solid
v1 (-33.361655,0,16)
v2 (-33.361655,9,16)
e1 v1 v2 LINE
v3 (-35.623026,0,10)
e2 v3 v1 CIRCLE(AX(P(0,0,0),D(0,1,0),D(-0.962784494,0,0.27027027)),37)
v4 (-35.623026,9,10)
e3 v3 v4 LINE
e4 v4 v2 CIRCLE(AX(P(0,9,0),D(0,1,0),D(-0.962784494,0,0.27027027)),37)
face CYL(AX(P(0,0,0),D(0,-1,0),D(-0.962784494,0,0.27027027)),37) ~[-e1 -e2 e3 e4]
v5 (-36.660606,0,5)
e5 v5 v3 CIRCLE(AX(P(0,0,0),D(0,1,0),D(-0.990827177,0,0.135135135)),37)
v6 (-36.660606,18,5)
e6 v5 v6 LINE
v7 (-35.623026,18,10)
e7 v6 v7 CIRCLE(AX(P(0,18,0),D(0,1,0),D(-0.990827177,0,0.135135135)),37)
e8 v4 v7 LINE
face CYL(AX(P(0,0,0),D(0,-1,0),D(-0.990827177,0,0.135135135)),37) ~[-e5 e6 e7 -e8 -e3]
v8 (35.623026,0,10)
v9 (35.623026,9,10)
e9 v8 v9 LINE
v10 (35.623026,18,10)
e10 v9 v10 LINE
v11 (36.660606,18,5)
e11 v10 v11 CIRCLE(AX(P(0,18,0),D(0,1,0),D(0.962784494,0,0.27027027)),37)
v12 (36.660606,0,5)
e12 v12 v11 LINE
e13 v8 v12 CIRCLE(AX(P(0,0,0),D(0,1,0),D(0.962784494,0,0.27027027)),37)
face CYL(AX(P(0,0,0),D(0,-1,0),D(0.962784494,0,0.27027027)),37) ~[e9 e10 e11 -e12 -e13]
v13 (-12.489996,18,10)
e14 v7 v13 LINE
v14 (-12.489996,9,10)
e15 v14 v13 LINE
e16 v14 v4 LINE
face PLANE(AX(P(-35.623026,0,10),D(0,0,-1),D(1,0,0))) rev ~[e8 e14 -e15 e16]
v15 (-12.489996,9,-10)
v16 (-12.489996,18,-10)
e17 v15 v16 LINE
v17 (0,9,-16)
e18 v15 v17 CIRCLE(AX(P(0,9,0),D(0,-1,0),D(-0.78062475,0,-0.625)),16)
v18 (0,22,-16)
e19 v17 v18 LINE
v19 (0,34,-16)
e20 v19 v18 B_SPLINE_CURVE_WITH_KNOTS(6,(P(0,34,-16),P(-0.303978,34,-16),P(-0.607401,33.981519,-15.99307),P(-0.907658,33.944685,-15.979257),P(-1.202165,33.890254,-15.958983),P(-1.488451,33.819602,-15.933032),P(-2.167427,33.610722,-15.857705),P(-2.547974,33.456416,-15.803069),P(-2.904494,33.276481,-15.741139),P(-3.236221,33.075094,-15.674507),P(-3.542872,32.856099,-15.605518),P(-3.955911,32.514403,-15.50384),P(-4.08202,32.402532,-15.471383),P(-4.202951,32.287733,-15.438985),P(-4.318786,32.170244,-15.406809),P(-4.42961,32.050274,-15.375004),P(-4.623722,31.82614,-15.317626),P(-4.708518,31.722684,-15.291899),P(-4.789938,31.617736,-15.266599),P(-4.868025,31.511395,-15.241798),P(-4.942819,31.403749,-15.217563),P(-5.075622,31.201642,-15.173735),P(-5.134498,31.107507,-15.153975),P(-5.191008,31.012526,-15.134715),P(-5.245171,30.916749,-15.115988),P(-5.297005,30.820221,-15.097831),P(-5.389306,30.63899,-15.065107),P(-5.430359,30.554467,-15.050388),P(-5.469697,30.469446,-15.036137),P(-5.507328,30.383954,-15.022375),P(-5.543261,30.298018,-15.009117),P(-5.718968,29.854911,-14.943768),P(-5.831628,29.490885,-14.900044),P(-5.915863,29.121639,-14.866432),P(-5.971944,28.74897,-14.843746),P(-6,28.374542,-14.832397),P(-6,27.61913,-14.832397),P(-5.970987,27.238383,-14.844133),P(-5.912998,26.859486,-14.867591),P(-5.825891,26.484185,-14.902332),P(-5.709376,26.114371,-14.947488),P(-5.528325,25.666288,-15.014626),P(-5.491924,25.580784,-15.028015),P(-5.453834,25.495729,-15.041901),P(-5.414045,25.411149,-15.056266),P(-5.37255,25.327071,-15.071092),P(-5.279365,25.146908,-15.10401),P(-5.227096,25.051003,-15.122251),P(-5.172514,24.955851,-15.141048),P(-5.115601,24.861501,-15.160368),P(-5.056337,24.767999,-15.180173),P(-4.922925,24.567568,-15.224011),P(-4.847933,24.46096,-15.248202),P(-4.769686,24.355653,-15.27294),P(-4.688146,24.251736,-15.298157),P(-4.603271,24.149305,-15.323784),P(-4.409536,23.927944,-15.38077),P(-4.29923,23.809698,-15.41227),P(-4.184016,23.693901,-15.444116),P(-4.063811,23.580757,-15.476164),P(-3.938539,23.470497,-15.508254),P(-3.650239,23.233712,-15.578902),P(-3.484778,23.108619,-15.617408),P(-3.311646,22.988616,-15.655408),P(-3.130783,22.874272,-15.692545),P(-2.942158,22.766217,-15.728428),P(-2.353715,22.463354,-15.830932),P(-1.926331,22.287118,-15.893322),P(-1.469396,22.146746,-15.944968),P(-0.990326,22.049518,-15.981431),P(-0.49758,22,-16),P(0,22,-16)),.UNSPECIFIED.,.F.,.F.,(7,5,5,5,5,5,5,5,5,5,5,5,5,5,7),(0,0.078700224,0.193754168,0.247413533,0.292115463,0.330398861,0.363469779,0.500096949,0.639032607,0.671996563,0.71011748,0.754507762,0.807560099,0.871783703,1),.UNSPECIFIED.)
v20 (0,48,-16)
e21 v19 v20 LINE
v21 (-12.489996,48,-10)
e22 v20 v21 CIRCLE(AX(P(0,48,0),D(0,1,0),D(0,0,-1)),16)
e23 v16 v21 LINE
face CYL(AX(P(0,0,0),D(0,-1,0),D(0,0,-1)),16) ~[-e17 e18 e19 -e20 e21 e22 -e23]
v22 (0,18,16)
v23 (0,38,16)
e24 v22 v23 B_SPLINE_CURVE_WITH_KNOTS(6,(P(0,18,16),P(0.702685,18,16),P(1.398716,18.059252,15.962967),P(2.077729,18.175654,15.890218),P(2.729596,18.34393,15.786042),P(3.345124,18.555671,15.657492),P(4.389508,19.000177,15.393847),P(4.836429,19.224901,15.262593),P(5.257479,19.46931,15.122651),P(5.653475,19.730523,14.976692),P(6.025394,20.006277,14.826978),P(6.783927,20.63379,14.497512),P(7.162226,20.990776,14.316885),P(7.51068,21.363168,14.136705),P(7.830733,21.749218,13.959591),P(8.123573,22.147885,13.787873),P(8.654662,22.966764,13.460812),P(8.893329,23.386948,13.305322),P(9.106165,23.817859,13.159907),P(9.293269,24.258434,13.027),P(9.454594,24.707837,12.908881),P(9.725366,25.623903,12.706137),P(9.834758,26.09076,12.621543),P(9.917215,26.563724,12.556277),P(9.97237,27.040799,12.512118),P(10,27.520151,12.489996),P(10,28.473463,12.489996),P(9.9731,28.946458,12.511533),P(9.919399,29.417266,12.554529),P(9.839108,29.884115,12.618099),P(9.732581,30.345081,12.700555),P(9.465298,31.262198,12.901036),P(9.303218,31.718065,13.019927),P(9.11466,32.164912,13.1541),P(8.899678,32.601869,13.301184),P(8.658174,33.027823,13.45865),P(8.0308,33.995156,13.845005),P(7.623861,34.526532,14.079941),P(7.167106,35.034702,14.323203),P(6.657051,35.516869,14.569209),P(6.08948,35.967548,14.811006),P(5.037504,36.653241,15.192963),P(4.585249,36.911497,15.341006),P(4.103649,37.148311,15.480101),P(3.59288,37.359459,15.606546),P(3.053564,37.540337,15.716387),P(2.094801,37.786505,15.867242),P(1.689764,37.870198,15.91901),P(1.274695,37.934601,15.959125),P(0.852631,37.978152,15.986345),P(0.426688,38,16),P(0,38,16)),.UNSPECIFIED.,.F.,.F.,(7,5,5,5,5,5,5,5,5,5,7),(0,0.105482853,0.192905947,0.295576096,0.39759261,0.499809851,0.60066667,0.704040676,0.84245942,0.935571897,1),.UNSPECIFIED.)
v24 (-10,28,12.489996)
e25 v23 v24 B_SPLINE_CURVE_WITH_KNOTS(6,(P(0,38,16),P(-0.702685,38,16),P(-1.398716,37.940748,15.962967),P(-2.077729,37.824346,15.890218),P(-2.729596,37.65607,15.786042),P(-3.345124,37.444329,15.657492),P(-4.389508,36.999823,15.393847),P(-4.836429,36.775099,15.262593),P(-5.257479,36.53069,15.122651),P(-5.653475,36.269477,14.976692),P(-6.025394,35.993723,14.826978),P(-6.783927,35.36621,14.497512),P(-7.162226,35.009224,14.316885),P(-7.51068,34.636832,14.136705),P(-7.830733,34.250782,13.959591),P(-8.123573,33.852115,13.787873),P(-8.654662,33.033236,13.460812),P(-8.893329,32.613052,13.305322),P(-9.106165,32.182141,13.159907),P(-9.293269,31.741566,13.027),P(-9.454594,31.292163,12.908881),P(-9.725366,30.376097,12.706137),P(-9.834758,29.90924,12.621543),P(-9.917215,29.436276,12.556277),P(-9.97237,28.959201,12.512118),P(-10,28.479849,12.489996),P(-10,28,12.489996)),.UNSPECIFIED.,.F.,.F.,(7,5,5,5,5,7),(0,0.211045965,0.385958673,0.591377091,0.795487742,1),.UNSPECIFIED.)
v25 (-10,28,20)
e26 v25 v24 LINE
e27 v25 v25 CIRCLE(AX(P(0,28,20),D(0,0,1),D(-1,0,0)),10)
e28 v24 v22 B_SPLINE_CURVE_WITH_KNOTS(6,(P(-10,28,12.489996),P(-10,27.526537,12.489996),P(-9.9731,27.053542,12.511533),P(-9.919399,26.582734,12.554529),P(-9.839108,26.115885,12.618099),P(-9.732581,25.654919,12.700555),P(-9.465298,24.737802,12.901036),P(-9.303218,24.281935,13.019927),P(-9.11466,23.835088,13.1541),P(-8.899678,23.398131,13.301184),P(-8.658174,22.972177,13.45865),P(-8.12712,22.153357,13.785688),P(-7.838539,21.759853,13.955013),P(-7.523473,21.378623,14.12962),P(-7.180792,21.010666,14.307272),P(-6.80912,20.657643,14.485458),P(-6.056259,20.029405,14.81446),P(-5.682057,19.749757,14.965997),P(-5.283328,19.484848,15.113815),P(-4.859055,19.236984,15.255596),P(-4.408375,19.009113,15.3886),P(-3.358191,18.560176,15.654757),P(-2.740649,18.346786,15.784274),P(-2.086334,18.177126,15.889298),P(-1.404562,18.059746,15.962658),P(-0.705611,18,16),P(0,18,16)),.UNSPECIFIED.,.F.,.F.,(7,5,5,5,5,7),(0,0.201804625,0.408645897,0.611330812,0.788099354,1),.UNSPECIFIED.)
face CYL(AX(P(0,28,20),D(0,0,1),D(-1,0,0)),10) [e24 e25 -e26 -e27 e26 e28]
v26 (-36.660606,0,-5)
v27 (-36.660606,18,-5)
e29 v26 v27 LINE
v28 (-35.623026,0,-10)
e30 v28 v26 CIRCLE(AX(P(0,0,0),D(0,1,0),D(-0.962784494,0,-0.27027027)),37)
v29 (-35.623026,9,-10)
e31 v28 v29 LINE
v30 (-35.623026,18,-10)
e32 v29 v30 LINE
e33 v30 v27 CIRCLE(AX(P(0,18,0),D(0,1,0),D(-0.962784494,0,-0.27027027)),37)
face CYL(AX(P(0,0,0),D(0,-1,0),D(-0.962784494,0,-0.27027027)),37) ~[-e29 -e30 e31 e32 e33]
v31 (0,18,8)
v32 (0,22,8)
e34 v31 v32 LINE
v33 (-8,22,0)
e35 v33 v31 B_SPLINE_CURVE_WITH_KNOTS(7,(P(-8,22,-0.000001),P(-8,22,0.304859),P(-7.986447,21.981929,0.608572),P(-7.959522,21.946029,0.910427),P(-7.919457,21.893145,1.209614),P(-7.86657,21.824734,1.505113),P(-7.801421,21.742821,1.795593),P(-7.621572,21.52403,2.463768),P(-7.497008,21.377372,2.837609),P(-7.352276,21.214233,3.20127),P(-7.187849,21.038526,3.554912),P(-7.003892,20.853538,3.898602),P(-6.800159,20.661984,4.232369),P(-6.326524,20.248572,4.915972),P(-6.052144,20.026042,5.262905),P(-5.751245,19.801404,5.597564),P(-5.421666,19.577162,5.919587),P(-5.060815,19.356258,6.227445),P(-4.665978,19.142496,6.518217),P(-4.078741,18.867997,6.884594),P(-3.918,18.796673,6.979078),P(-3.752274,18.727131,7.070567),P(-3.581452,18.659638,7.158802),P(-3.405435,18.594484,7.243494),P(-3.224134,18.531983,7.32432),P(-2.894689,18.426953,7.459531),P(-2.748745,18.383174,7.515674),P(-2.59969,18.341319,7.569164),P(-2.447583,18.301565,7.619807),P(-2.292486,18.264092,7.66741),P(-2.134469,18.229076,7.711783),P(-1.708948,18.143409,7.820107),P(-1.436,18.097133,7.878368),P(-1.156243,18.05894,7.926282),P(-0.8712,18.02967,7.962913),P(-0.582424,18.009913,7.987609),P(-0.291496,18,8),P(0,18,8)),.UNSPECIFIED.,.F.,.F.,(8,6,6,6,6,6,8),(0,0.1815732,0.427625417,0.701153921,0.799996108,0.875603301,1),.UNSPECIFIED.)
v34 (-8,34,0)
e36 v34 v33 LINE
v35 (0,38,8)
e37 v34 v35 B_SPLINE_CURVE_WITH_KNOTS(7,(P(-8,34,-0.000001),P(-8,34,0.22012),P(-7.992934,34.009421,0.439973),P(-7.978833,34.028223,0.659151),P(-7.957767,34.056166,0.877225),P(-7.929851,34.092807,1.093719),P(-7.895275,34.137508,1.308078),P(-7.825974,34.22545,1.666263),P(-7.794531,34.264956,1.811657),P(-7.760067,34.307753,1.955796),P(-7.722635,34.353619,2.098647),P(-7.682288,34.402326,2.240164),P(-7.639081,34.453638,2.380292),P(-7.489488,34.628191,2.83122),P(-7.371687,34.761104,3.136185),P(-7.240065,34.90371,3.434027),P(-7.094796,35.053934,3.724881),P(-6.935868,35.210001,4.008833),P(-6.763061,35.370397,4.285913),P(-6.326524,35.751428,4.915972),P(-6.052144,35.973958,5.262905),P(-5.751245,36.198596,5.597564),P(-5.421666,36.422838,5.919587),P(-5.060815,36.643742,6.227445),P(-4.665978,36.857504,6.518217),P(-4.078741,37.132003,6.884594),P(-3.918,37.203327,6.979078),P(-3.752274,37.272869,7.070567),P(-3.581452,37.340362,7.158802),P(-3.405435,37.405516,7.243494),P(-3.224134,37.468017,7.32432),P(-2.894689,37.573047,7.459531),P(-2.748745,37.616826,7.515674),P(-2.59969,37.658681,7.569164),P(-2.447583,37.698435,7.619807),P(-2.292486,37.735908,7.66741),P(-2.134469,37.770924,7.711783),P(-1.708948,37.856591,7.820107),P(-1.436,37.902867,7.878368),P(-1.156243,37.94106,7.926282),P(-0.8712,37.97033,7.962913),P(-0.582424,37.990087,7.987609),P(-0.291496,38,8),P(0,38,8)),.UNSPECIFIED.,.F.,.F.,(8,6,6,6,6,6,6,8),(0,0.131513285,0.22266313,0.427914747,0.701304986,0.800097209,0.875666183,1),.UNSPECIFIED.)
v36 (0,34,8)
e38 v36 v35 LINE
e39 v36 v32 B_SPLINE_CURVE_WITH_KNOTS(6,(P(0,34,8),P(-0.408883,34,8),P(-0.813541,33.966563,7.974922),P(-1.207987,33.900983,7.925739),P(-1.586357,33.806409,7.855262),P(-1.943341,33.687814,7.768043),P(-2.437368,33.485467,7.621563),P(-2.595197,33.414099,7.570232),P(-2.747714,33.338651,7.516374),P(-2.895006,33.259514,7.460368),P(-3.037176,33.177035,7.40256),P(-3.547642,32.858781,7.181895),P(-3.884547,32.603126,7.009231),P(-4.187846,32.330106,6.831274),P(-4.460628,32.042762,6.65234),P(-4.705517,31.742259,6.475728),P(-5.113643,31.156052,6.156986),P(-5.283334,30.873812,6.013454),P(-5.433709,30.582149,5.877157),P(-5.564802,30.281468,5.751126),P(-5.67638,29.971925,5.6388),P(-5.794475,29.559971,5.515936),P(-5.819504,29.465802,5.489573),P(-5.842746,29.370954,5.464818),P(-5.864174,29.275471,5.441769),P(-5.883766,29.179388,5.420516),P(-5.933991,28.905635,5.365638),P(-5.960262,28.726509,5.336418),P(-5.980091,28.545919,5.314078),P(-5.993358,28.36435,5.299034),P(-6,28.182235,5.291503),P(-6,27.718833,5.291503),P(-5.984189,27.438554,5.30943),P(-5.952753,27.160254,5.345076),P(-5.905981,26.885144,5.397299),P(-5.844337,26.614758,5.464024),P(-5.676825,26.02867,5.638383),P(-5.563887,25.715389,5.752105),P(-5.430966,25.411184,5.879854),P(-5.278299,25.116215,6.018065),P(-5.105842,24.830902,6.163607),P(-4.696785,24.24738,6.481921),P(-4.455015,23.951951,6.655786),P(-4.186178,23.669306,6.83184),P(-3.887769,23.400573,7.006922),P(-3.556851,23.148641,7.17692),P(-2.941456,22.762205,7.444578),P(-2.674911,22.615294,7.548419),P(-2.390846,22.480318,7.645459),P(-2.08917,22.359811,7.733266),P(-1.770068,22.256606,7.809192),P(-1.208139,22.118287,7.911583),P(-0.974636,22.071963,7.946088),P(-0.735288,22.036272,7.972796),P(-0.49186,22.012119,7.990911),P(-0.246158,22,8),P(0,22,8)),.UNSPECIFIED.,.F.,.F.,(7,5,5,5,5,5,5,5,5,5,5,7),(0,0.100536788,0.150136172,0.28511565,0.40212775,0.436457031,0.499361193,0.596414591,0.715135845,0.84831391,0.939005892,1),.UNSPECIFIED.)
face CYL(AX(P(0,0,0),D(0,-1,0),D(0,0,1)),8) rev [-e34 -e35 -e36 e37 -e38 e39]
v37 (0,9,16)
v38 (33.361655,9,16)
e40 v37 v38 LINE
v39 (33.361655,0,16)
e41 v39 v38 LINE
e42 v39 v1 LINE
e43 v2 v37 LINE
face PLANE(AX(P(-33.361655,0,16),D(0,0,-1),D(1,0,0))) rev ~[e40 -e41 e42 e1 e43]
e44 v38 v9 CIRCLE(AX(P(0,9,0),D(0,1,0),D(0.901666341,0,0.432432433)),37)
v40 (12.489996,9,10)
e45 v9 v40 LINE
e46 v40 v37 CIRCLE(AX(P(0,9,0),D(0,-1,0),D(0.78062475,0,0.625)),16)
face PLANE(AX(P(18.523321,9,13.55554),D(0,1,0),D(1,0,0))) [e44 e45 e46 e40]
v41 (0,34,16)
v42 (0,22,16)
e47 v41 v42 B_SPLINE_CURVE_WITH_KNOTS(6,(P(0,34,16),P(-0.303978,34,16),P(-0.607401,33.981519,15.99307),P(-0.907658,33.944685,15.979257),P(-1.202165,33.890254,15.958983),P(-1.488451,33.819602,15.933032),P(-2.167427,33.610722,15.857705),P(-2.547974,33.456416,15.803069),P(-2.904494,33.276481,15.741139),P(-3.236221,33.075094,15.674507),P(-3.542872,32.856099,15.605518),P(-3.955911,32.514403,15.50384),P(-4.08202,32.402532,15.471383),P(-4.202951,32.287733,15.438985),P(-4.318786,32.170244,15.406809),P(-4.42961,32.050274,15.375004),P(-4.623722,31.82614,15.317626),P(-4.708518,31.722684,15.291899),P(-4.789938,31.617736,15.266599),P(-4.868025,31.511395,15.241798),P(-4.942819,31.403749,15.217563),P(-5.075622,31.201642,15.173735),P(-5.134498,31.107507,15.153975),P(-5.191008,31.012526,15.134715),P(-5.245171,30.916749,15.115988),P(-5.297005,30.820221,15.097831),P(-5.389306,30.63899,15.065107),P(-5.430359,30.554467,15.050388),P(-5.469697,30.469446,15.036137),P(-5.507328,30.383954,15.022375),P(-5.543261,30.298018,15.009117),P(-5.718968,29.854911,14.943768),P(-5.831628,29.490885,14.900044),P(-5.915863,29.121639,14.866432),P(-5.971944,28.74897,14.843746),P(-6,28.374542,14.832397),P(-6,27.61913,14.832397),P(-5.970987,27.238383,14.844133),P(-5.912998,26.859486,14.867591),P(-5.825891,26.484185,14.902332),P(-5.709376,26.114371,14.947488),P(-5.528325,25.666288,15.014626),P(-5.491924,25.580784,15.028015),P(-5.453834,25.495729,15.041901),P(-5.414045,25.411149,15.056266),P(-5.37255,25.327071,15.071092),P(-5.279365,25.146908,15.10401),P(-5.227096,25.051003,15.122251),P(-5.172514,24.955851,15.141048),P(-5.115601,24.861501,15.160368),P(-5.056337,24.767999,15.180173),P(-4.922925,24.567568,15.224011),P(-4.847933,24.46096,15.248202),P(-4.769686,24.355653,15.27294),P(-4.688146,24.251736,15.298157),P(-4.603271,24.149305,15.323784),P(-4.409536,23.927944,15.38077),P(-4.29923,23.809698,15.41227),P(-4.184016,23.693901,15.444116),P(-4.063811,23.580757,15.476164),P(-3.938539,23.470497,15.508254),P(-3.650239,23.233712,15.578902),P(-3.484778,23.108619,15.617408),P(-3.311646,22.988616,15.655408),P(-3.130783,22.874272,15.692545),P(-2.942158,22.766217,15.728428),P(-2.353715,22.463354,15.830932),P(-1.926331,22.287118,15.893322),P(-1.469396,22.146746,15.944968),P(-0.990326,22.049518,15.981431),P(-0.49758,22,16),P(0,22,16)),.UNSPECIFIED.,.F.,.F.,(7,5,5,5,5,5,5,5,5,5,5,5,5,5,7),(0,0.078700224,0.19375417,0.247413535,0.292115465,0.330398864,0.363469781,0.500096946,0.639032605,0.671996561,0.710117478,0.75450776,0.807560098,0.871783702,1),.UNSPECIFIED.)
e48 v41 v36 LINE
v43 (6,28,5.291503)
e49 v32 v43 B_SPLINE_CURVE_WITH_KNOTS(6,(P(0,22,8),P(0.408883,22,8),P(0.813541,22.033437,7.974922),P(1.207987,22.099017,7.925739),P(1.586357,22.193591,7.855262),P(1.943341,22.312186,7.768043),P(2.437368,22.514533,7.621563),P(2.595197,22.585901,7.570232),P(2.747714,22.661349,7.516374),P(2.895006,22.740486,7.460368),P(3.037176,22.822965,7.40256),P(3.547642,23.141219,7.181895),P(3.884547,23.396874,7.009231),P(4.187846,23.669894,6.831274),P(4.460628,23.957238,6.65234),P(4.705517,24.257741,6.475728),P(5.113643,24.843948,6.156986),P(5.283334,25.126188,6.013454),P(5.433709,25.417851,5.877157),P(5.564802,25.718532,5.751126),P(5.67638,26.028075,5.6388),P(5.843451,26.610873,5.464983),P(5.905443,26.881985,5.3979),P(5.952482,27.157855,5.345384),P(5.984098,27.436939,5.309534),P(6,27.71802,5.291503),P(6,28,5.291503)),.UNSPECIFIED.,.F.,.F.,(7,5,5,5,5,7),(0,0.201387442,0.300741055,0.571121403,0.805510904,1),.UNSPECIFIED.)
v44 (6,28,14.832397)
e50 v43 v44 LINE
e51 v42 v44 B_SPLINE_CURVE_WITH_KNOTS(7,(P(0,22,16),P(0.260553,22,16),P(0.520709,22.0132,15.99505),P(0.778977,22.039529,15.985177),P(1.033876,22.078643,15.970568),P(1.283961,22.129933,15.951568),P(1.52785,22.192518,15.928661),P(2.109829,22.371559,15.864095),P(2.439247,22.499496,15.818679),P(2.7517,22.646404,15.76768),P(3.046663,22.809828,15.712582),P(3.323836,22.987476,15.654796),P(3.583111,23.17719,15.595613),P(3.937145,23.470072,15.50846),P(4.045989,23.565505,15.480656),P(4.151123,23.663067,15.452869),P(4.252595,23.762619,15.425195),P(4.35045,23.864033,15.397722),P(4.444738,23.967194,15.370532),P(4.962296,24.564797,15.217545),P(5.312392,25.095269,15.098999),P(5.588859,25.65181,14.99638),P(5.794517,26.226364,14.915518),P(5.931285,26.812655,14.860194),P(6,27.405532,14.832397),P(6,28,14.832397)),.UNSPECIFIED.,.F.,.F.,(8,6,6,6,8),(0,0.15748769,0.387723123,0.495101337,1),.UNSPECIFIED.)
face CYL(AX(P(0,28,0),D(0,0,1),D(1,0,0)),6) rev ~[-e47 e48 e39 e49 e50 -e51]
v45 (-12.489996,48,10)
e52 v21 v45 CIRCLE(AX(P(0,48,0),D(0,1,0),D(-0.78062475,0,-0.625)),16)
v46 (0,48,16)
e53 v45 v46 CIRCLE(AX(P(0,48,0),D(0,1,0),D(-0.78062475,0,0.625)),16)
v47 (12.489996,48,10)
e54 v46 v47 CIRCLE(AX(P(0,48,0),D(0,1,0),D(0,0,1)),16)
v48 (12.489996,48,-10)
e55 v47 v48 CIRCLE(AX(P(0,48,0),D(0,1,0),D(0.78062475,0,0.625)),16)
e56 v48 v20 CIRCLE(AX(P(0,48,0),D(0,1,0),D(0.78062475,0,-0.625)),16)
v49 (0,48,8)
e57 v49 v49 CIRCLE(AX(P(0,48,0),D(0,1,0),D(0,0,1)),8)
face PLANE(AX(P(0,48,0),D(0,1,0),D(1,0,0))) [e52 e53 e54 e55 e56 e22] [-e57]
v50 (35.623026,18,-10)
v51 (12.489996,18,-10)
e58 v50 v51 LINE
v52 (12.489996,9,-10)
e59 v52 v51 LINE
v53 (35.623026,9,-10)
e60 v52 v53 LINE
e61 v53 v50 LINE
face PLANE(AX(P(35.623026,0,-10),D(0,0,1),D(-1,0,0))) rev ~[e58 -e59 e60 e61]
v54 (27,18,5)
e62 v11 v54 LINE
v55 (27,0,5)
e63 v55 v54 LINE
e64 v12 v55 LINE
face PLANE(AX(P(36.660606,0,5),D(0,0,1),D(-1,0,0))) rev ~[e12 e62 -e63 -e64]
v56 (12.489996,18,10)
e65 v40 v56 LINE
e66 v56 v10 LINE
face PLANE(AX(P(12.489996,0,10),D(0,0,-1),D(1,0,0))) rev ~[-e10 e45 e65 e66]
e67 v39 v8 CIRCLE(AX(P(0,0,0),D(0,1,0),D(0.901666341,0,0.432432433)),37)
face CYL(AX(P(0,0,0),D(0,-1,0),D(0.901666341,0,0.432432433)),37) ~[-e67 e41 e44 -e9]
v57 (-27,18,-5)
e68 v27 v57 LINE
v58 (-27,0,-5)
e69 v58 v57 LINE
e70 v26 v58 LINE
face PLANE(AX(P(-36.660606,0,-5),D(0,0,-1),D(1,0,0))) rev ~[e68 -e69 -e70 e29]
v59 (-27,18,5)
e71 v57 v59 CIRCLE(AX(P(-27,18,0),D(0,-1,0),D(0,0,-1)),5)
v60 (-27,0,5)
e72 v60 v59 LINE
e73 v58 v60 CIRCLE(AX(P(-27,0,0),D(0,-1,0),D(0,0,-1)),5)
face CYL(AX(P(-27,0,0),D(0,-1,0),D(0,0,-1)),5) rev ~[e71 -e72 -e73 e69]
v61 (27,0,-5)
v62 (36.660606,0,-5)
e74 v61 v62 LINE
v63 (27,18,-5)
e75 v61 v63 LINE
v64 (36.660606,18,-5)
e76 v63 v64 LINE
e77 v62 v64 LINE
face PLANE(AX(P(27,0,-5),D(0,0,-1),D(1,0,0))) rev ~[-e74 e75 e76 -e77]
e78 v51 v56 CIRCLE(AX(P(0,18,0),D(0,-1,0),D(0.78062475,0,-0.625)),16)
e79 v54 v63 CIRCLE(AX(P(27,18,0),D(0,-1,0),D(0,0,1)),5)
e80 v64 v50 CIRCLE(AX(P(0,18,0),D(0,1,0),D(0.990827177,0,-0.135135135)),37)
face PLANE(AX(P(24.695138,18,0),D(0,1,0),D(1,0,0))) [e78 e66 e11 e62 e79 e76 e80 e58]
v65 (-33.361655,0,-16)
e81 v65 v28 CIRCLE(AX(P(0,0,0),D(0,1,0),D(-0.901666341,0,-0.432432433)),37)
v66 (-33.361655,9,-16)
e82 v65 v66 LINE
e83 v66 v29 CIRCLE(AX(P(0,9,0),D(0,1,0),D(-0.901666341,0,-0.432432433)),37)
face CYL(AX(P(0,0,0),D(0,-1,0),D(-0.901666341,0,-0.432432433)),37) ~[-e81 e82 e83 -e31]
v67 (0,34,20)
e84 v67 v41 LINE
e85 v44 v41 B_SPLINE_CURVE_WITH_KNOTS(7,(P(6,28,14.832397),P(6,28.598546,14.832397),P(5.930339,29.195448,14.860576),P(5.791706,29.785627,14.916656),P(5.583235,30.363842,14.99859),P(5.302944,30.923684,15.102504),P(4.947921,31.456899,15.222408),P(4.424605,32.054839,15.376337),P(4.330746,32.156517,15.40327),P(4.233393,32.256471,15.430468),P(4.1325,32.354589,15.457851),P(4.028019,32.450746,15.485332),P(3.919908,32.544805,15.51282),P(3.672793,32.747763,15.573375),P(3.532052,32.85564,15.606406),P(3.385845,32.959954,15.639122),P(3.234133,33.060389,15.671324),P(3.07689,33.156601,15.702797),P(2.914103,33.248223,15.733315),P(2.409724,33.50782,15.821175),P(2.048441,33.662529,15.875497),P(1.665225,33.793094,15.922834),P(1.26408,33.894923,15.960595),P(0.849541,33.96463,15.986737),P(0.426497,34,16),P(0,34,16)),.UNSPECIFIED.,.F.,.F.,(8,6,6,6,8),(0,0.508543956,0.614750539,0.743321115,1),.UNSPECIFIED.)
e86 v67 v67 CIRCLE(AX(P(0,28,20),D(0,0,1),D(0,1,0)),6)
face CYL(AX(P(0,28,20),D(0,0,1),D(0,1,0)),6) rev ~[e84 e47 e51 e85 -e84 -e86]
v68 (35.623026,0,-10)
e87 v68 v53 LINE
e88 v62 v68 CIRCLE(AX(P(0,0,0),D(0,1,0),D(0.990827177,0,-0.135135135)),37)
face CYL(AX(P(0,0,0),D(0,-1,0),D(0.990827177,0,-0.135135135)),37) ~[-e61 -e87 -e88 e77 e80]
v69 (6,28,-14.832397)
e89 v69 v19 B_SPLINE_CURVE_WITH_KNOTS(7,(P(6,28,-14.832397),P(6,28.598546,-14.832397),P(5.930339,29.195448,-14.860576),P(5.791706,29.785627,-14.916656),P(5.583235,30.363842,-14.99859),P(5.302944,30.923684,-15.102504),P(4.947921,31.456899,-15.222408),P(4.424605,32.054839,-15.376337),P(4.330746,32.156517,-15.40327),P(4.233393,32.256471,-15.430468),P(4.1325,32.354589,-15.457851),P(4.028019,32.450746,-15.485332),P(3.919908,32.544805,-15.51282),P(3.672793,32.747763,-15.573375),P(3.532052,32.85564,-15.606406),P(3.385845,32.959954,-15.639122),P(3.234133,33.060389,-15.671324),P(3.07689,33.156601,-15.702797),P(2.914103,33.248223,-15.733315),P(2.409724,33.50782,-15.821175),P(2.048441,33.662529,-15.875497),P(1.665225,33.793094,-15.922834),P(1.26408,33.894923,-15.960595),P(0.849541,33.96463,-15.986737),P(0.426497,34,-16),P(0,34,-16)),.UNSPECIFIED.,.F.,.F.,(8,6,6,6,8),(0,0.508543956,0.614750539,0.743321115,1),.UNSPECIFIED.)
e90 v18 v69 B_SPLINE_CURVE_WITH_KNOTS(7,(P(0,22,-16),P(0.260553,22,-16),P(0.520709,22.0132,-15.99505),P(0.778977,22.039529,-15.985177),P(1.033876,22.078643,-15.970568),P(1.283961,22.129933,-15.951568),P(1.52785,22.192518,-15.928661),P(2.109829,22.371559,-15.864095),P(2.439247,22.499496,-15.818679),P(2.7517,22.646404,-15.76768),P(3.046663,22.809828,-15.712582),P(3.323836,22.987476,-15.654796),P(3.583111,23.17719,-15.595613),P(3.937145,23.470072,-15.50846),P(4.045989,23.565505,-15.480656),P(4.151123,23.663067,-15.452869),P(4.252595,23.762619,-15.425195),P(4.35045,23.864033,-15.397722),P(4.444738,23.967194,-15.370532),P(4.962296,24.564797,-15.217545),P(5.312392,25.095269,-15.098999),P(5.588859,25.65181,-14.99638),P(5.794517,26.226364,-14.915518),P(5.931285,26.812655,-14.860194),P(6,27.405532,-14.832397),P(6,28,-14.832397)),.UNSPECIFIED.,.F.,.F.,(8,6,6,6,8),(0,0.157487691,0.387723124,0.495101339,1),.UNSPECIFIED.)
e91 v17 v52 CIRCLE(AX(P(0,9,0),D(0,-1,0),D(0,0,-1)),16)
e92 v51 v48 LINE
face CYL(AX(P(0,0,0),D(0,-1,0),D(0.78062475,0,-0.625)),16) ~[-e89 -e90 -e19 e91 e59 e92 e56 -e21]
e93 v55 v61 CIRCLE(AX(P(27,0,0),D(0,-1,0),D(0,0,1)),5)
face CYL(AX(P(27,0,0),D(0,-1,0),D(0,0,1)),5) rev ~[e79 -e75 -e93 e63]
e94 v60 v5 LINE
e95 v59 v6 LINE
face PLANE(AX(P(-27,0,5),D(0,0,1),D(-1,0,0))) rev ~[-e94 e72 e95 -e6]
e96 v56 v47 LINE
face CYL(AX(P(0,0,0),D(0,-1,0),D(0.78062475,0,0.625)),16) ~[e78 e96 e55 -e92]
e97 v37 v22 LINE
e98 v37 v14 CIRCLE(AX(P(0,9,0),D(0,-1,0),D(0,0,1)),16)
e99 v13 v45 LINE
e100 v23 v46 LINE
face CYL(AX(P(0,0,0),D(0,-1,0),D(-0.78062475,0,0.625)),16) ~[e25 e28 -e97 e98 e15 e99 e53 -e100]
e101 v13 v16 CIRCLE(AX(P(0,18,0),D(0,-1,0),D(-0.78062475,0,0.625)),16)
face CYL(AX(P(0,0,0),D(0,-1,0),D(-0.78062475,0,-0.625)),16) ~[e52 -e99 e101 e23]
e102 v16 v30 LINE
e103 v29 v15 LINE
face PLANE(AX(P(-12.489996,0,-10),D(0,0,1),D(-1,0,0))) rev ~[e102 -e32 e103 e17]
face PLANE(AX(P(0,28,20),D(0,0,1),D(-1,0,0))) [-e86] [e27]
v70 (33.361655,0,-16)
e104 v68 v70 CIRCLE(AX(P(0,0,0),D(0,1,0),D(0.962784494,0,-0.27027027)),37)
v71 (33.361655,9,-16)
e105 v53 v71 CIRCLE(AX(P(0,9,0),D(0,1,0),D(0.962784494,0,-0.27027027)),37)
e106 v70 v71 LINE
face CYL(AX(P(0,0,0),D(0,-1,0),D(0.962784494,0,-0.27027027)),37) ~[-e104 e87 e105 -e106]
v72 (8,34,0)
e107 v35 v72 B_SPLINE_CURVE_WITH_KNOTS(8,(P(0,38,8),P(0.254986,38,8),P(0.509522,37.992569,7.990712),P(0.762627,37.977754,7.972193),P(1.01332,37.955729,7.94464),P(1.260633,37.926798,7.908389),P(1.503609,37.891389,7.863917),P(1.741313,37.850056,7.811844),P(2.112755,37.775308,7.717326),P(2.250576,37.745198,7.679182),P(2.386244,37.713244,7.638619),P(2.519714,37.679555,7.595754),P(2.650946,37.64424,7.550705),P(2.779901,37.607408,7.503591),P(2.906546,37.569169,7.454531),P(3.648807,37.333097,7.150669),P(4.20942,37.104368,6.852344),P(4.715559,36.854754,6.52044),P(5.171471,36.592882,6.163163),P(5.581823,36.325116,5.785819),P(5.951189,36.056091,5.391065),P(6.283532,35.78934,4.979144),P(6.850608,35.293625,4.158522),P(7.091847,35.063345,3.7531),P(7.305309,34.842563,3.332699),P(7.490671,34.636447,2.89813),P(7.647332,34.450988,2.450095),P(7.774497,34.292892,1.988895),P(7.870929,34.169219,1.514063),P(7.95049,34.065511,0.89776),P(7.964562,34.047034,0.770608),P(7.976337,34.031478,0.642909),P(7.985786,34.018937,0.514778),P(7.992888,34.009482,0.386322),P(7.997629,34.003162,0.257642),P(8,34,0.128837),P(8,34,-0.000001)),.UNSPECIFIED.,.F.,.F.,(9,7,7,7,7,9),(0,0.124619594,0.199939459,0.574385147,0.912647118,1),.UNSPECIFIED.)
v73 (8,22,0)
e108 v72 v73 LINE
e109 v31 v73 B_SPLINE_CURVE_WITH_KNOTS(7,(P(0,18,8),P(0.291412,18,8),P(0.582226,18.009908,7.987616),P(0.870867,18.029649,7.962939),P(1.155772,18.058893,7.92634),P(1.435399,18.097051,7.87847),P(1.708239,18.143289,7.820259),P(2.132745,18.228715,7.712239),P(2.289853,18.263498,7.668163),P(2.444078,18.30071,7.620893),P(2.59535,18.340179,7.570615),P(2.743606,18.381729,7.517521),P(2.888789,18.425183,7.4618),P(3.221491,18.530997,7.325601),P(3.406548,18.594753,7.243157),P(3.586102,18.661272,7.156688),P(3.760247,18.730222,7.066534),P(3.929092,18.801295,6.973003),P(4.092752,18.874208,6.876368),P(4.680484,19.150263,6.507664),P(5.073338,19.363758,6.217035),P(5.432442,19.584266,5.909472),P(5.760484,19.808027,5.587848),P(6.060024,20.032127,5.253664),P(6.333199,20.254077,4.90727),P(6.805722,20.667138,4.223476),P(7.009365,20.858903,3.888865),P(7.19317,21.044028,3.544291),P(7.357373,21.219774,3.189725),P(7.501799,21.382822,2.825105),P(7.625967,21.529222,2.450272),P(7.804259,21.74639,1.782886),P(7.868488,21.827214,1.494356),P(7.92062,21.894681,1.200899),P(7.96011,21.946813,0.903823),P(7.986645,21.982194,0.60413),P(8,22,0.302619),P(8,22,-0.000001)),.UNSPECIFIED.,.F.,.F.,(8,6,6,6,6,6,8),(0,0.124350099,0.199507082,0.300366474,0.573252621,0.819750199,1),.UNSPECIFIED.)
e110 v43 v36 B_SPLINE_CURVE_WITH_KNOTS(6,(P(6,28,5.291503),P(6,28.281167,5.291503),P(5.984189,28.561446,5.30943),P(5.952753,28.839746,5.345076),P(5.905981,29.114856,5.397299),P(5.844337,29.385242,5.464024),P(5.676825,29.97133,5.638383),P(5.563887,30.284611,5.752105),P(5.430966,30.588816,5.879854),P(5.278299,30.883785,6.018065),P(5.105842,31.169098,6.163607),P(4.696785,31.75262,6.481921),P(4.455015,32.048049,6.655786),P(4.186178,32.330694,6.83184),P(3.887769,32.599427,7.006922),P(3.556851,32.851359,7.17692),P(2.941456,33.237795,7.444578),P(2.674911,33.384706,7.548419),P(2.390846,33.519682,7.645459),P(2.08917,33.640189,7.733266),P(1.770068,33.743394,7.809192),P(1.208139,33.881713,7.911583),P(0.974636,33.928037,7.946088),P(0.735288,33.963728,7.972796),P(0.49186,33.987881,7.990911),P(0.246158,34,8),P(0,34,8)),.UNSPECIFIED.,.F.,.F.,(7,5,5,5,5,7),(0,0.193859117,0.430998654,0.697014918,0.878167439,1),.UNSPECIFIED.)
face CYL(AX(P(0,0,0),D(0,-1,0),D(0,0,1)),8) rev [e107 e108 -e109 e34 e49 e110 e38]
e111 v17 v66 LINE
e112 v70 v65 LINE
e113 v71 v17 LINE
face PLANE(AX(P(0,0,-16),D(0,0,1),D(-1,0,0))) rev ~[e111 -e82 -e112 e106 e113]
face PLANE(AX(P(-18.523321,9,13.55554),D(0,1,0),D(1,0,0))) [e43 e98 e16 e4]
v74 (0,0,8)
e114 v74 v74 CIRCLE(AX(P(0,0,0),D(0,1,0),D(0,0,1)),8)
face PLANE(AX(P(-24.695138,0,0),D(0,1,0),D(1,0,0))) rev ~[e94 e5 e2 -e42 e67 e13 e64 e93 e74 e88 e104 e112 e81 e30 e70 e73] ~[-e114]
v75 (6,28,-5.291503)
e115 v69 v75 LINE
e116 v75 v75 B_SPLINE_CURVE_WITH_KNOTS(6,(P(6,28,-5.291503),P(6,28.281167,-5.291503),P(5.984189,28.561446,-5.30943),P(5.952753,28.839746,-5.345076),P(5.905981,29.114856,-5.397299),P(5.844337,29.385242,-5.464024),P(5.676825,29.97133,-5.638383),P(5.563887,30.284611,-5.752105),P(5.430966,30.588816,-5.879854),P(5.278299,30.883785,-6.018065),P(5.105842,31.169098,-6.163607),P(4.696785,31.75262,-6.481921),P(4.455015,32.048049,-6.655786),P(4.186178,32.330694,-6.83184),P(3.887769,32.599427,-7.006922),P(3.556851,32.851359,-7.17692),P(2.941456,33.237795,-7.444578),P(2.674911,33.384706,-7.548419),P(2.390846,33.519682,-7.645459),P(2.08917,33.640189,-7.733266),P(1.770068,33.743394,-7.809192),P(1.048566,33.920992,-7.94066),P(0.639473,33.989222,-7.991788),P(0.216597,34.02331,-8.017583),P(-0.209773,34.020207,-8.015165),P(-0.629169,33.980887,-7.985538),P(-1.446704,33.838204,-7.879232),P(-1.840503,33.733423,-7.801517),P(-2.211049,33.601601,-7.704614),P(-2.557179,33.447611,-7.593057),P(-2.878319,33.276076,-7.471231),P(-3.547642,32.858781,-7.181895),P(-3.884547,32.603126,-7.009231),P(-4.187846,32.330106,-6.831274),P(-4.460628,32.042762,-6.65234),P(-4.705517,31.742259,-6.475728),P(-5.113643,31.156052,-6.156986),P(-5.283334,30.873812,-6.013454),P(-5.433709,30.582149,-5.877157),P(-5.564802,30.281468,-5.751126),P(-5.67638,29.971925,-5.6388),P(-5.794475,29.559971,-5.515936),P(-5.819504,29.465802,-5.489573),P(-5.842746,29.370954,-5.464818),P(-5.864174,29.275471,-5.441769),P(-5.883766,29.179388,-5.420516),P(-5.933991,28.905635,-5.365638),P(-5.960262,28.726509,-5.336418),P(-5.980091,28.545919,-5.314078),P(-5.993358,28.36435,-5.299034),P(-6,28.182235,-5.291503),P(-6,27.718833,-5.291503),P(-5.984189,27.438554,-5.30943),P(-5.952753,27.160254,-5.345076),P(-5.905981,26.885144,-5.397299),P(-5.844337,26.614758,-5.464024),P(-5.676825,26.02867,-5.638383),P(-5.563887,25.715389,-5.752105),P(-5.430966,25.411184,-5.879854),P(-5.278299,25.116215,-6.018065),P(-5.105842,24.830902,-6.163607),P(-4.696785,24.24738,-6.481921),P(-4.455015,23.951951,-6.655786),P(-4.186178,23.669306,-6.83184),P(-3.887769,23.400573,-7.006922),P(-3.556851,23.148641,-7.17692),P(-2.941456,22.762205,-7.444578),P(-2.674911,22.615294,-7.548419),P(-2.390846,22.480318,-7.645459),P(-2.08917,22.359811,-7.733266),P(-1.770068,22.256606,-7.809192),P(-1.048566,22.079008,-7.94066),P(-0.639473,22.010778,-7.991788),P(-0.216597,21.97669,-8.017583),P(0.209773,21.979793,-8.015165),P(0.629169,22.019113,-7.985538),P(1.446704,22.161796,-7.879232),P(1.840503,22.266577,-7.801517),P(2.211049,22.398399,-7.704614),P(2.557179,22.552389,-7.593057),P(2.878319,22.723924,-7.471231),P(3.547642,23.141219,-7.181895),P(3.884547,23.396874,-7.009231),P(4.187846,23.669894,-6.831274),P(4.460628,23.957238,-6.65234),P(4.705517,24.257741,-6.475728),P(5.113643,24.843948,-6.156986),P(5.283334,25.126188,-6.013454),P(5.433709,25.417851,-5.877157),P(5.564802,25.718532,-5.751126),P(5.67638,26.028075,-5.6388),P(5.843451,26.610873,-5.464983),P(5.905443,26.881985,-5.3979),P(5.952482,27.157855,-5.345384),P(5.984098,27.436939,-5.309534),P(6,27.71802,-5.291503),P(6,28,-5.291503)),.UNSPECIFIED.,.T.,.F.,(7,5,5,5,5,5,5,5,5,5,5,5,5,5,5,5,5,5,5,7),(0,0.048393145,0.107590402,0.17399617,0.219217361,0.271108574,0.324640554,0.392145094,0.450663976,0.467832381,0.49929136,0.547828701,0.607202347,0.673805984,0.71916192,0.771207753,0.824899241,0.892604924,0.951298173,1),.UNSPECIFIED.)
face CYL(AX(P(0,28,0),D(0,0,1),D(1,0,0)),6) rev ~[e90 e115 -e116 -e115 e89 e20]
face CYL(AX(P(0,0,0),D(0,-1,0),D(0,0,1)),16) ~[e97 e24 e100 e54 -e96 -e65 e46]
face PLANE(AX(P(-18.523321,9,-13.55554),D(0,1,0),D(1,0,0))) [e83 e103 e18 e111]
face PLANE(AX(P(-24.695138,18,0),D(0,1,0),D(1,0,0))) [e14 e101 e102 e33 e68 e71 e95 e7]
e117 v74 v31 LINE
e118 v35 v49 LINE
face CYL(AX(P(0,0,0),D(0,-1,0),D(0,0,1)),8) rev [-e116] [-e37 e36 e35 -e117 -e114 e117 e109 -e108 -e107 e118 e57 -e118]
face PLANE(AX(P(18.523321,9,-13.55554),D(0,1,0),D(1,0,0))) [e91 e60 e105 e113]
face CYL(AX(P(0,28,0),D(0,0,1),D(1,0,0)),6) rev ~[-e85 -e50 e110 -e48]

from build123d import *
from build123d.topology import SkipClean

# Parameters (mm, degrees)
SKETCH_2_R          = 8
EXTRUDE_1_DEPTH     = 48
EXTRUDE_2_DEPTH     = 9
EXTRUDE_3_DEPTH     = 18
SKETCH_5_R          = 6
CUT_EXTRUDE_2_DEPTH = 20
EXTRUDE_START       = 20
SKETCH_6_R          = 10
SKETCH_6_R_2        = 6
EXTRUDE_6_DEPTH     = 20
SKETCH_1_R          = 8
CUT_EXTRUDE_4_DEPTH = 48


with BuildPart() as part:
    # 草图2 → 凸台-拉伸1 (new body)
    with BuildSketch(Plane(origin=(0, 0, 0), x_dir=(1, 0, 0), z_dir=(0, 1, 0))):
        with BuildLine():
            ThreePointArc((0, 16), (-6.92820323, 14.422205102), (-12.489995997, 10))
            ThreePointArc((-12.489995997, 10), (-16, 0), (-12.489995997, -10))
            ThreePointArc((-12.489995997, -10), (-6.92820323, -14.422205102), (0, -16))
            ThreePointArc((0, -16), (6.92820323, -14.422205102), (12.489995997, -10))
            ThreePointArc((12.489995997, -10), (16, 0), (12.489995997, 10))
            ThreePointArc((12.489995997, 10), (6.92820323, 14.422205102), (0, 16))
        make_face()
        with Locations(Location((0, 0, 0), (0, 0, 270))):
            Circle(SKETCH_2_R, mode=Mode.SUBTRACT)
    extrude(amount=EXTRUDE_1_DEPTH)

    # 草图3 → 凸台-拉伸2 (add)
    with BuildSketch(Plane(origin=(0, 0, 0), x_dir=(1, 0, 0), z_dir=(0, 1, 0))):
        with BuildLine():
            ThreePointArc((-33.361654635, 16), (-34.622558392, 13.049078527), (-35.623026261, 10))
            Line((-35.623026261, 10), (-12.489995997, 10))
            ThreePointArc((-12.489995997, 10), (-6.92820323, 14.422205102), (0, 16))
            Line((0, 16), (-33.361654635, 16))
        make_face()
        with BuildLine():
            ThreePointArc((0, -16), (-6.92820323, -14.422205102), (-12.489995997, -10))
            Line((-12.489995997, -10), (-35.623026261, -10))
            ThreePointArc((-35.623026261, -10), (-34.622558392, -13.049078527), (-33.361654635, -16))
            Line((-33.361654635, -16), (0, -16))
        make_face()
        with BuildLine():
            Line((33.361654635, 16), (0, 16))
            ThreePointArc((0, 16), (6.92820323, 14.422205102), (12.489995997, 10))
            Line((12.489995997, 10), (35.623026261, 10))
            ThreePointArc((35.623026261, 10), (34.622558392, 13.049078527), (33.361654635, 16))
        make_face()
        with BuildLine():
            ThreePointArc((12.489995997, -10), (6.92820323, -14.422205102), (0, -16))
            Line((0, -16), (33.361654635, -16))
            ThreePointArc((33.361654635, -16), (34.622558392, -13.049078527), (35.623026261, -10))
            Line((35.623026261, -10), (12.489995997, -10))
        make_face()
    extrude(amount=EXTRUDE_2_DEPTH)

    # 草图4 → 凸台-拉伸3 (add)
    with BuildSketch(Plane(origin=(0, 0, 0), x_dir=(1, 0, 0), z_dir=(0, 1, 0))):
        with BuildLine():
            Line((-12.489995997, 10), (-35.623026261, 10))
            ThreePointArc((-35.623026261, 10), (-36.22817767, 7.517921435), (-36.66060556, 5))
            Line((-36.66060556, 5), (-27, 5))
            ThreePointArc((-27, 5), (-22, 0), (-27, -5))
            Line((-27, -5), (-36.66060556, -5))
            ThreePointArc((-36.66060556, -5), (-36.22817767, -7.517921435), (-35.623026261, -10))
            Line((-35.623026261, -10), (-12.489995997, -10))
            ThreePointArc((-12.489995997, -10), (-16, 0), (-12.489995997, 10))
        make_face()
        with BuildLine():
            Line((35.623026261, 10), (12.489995997, 10))
            ThreePointArc((12.489995997, 10), (16, 0), (12.489995997, -10))
            Line((12.489995997, -10), (35.623026261, -10))
            ThreePointArc((35.623026261, -10), (36.22817767, -7.517921435), (36.66060556, -5))
            Line((36.66060556, -5), (27, -5))
            ThreePointArc((27, -5), (22, 0), (27, 5))
            Line((27, 5), (36.66060556, 5))
            ThreePointArc((36.66060556, 5), (36.22817767, 7.517921435), (35.623026261, 10))
        make_face()
    extrude(amount=EXTRUDE_3_DEPTH)

    # 草图5 → 切除-拉伸2 (cut, symmetric)
    with SkipClean():  # the faces are left unmerged after this step: merging them gives an invalid solid
        with BuildSketch(Plane.XY):
            with Locations((0, 28)):
                Circle(SKETCH_5_R)
        extrude(amount=CUT_EXTRUDE_2_DEPTH, both=True, mode=Mode.SUBTRACT)

    # 草图6 → 凸台-拉伸6 (add)
    with SkipClean():  # the faces are left unmerged after this step: merging them gives an invalid solid
        with BuildSketch(Plane.XY.offset(EXTRUDE_START)):
            with Locations(Location((0, 28, 0), (0, 0, 180))):
                Circle(SKETCH_6_R)
            with Locations(Location((0, 28, 0), (0, 0, 90))):
                Circle(SKETCH_6_R_2, mode=Mode.SUBTRACT)
        extrude(amount=-EXTRUDE_6_DEPTH)

    # 草图1 → 切除-拉伸4 (cut)
    with SkipClean():  # the faces are left unmerged after this step: merging them gives an invalid solid
        with BuildSketch(Plane(origin=(0, 0, 0), x_dir=(1, 0, 0), z_dir=(0, 1, 0))):
            with Locations(Location((0, 0, 0), (0, 0, 270))):
                Circle(SKETCH_1_R)
        extrude(amount=CUT_EXTRUDE_4_DEPTH, mode=Mode.SUBTRACT)


solid = part.part
